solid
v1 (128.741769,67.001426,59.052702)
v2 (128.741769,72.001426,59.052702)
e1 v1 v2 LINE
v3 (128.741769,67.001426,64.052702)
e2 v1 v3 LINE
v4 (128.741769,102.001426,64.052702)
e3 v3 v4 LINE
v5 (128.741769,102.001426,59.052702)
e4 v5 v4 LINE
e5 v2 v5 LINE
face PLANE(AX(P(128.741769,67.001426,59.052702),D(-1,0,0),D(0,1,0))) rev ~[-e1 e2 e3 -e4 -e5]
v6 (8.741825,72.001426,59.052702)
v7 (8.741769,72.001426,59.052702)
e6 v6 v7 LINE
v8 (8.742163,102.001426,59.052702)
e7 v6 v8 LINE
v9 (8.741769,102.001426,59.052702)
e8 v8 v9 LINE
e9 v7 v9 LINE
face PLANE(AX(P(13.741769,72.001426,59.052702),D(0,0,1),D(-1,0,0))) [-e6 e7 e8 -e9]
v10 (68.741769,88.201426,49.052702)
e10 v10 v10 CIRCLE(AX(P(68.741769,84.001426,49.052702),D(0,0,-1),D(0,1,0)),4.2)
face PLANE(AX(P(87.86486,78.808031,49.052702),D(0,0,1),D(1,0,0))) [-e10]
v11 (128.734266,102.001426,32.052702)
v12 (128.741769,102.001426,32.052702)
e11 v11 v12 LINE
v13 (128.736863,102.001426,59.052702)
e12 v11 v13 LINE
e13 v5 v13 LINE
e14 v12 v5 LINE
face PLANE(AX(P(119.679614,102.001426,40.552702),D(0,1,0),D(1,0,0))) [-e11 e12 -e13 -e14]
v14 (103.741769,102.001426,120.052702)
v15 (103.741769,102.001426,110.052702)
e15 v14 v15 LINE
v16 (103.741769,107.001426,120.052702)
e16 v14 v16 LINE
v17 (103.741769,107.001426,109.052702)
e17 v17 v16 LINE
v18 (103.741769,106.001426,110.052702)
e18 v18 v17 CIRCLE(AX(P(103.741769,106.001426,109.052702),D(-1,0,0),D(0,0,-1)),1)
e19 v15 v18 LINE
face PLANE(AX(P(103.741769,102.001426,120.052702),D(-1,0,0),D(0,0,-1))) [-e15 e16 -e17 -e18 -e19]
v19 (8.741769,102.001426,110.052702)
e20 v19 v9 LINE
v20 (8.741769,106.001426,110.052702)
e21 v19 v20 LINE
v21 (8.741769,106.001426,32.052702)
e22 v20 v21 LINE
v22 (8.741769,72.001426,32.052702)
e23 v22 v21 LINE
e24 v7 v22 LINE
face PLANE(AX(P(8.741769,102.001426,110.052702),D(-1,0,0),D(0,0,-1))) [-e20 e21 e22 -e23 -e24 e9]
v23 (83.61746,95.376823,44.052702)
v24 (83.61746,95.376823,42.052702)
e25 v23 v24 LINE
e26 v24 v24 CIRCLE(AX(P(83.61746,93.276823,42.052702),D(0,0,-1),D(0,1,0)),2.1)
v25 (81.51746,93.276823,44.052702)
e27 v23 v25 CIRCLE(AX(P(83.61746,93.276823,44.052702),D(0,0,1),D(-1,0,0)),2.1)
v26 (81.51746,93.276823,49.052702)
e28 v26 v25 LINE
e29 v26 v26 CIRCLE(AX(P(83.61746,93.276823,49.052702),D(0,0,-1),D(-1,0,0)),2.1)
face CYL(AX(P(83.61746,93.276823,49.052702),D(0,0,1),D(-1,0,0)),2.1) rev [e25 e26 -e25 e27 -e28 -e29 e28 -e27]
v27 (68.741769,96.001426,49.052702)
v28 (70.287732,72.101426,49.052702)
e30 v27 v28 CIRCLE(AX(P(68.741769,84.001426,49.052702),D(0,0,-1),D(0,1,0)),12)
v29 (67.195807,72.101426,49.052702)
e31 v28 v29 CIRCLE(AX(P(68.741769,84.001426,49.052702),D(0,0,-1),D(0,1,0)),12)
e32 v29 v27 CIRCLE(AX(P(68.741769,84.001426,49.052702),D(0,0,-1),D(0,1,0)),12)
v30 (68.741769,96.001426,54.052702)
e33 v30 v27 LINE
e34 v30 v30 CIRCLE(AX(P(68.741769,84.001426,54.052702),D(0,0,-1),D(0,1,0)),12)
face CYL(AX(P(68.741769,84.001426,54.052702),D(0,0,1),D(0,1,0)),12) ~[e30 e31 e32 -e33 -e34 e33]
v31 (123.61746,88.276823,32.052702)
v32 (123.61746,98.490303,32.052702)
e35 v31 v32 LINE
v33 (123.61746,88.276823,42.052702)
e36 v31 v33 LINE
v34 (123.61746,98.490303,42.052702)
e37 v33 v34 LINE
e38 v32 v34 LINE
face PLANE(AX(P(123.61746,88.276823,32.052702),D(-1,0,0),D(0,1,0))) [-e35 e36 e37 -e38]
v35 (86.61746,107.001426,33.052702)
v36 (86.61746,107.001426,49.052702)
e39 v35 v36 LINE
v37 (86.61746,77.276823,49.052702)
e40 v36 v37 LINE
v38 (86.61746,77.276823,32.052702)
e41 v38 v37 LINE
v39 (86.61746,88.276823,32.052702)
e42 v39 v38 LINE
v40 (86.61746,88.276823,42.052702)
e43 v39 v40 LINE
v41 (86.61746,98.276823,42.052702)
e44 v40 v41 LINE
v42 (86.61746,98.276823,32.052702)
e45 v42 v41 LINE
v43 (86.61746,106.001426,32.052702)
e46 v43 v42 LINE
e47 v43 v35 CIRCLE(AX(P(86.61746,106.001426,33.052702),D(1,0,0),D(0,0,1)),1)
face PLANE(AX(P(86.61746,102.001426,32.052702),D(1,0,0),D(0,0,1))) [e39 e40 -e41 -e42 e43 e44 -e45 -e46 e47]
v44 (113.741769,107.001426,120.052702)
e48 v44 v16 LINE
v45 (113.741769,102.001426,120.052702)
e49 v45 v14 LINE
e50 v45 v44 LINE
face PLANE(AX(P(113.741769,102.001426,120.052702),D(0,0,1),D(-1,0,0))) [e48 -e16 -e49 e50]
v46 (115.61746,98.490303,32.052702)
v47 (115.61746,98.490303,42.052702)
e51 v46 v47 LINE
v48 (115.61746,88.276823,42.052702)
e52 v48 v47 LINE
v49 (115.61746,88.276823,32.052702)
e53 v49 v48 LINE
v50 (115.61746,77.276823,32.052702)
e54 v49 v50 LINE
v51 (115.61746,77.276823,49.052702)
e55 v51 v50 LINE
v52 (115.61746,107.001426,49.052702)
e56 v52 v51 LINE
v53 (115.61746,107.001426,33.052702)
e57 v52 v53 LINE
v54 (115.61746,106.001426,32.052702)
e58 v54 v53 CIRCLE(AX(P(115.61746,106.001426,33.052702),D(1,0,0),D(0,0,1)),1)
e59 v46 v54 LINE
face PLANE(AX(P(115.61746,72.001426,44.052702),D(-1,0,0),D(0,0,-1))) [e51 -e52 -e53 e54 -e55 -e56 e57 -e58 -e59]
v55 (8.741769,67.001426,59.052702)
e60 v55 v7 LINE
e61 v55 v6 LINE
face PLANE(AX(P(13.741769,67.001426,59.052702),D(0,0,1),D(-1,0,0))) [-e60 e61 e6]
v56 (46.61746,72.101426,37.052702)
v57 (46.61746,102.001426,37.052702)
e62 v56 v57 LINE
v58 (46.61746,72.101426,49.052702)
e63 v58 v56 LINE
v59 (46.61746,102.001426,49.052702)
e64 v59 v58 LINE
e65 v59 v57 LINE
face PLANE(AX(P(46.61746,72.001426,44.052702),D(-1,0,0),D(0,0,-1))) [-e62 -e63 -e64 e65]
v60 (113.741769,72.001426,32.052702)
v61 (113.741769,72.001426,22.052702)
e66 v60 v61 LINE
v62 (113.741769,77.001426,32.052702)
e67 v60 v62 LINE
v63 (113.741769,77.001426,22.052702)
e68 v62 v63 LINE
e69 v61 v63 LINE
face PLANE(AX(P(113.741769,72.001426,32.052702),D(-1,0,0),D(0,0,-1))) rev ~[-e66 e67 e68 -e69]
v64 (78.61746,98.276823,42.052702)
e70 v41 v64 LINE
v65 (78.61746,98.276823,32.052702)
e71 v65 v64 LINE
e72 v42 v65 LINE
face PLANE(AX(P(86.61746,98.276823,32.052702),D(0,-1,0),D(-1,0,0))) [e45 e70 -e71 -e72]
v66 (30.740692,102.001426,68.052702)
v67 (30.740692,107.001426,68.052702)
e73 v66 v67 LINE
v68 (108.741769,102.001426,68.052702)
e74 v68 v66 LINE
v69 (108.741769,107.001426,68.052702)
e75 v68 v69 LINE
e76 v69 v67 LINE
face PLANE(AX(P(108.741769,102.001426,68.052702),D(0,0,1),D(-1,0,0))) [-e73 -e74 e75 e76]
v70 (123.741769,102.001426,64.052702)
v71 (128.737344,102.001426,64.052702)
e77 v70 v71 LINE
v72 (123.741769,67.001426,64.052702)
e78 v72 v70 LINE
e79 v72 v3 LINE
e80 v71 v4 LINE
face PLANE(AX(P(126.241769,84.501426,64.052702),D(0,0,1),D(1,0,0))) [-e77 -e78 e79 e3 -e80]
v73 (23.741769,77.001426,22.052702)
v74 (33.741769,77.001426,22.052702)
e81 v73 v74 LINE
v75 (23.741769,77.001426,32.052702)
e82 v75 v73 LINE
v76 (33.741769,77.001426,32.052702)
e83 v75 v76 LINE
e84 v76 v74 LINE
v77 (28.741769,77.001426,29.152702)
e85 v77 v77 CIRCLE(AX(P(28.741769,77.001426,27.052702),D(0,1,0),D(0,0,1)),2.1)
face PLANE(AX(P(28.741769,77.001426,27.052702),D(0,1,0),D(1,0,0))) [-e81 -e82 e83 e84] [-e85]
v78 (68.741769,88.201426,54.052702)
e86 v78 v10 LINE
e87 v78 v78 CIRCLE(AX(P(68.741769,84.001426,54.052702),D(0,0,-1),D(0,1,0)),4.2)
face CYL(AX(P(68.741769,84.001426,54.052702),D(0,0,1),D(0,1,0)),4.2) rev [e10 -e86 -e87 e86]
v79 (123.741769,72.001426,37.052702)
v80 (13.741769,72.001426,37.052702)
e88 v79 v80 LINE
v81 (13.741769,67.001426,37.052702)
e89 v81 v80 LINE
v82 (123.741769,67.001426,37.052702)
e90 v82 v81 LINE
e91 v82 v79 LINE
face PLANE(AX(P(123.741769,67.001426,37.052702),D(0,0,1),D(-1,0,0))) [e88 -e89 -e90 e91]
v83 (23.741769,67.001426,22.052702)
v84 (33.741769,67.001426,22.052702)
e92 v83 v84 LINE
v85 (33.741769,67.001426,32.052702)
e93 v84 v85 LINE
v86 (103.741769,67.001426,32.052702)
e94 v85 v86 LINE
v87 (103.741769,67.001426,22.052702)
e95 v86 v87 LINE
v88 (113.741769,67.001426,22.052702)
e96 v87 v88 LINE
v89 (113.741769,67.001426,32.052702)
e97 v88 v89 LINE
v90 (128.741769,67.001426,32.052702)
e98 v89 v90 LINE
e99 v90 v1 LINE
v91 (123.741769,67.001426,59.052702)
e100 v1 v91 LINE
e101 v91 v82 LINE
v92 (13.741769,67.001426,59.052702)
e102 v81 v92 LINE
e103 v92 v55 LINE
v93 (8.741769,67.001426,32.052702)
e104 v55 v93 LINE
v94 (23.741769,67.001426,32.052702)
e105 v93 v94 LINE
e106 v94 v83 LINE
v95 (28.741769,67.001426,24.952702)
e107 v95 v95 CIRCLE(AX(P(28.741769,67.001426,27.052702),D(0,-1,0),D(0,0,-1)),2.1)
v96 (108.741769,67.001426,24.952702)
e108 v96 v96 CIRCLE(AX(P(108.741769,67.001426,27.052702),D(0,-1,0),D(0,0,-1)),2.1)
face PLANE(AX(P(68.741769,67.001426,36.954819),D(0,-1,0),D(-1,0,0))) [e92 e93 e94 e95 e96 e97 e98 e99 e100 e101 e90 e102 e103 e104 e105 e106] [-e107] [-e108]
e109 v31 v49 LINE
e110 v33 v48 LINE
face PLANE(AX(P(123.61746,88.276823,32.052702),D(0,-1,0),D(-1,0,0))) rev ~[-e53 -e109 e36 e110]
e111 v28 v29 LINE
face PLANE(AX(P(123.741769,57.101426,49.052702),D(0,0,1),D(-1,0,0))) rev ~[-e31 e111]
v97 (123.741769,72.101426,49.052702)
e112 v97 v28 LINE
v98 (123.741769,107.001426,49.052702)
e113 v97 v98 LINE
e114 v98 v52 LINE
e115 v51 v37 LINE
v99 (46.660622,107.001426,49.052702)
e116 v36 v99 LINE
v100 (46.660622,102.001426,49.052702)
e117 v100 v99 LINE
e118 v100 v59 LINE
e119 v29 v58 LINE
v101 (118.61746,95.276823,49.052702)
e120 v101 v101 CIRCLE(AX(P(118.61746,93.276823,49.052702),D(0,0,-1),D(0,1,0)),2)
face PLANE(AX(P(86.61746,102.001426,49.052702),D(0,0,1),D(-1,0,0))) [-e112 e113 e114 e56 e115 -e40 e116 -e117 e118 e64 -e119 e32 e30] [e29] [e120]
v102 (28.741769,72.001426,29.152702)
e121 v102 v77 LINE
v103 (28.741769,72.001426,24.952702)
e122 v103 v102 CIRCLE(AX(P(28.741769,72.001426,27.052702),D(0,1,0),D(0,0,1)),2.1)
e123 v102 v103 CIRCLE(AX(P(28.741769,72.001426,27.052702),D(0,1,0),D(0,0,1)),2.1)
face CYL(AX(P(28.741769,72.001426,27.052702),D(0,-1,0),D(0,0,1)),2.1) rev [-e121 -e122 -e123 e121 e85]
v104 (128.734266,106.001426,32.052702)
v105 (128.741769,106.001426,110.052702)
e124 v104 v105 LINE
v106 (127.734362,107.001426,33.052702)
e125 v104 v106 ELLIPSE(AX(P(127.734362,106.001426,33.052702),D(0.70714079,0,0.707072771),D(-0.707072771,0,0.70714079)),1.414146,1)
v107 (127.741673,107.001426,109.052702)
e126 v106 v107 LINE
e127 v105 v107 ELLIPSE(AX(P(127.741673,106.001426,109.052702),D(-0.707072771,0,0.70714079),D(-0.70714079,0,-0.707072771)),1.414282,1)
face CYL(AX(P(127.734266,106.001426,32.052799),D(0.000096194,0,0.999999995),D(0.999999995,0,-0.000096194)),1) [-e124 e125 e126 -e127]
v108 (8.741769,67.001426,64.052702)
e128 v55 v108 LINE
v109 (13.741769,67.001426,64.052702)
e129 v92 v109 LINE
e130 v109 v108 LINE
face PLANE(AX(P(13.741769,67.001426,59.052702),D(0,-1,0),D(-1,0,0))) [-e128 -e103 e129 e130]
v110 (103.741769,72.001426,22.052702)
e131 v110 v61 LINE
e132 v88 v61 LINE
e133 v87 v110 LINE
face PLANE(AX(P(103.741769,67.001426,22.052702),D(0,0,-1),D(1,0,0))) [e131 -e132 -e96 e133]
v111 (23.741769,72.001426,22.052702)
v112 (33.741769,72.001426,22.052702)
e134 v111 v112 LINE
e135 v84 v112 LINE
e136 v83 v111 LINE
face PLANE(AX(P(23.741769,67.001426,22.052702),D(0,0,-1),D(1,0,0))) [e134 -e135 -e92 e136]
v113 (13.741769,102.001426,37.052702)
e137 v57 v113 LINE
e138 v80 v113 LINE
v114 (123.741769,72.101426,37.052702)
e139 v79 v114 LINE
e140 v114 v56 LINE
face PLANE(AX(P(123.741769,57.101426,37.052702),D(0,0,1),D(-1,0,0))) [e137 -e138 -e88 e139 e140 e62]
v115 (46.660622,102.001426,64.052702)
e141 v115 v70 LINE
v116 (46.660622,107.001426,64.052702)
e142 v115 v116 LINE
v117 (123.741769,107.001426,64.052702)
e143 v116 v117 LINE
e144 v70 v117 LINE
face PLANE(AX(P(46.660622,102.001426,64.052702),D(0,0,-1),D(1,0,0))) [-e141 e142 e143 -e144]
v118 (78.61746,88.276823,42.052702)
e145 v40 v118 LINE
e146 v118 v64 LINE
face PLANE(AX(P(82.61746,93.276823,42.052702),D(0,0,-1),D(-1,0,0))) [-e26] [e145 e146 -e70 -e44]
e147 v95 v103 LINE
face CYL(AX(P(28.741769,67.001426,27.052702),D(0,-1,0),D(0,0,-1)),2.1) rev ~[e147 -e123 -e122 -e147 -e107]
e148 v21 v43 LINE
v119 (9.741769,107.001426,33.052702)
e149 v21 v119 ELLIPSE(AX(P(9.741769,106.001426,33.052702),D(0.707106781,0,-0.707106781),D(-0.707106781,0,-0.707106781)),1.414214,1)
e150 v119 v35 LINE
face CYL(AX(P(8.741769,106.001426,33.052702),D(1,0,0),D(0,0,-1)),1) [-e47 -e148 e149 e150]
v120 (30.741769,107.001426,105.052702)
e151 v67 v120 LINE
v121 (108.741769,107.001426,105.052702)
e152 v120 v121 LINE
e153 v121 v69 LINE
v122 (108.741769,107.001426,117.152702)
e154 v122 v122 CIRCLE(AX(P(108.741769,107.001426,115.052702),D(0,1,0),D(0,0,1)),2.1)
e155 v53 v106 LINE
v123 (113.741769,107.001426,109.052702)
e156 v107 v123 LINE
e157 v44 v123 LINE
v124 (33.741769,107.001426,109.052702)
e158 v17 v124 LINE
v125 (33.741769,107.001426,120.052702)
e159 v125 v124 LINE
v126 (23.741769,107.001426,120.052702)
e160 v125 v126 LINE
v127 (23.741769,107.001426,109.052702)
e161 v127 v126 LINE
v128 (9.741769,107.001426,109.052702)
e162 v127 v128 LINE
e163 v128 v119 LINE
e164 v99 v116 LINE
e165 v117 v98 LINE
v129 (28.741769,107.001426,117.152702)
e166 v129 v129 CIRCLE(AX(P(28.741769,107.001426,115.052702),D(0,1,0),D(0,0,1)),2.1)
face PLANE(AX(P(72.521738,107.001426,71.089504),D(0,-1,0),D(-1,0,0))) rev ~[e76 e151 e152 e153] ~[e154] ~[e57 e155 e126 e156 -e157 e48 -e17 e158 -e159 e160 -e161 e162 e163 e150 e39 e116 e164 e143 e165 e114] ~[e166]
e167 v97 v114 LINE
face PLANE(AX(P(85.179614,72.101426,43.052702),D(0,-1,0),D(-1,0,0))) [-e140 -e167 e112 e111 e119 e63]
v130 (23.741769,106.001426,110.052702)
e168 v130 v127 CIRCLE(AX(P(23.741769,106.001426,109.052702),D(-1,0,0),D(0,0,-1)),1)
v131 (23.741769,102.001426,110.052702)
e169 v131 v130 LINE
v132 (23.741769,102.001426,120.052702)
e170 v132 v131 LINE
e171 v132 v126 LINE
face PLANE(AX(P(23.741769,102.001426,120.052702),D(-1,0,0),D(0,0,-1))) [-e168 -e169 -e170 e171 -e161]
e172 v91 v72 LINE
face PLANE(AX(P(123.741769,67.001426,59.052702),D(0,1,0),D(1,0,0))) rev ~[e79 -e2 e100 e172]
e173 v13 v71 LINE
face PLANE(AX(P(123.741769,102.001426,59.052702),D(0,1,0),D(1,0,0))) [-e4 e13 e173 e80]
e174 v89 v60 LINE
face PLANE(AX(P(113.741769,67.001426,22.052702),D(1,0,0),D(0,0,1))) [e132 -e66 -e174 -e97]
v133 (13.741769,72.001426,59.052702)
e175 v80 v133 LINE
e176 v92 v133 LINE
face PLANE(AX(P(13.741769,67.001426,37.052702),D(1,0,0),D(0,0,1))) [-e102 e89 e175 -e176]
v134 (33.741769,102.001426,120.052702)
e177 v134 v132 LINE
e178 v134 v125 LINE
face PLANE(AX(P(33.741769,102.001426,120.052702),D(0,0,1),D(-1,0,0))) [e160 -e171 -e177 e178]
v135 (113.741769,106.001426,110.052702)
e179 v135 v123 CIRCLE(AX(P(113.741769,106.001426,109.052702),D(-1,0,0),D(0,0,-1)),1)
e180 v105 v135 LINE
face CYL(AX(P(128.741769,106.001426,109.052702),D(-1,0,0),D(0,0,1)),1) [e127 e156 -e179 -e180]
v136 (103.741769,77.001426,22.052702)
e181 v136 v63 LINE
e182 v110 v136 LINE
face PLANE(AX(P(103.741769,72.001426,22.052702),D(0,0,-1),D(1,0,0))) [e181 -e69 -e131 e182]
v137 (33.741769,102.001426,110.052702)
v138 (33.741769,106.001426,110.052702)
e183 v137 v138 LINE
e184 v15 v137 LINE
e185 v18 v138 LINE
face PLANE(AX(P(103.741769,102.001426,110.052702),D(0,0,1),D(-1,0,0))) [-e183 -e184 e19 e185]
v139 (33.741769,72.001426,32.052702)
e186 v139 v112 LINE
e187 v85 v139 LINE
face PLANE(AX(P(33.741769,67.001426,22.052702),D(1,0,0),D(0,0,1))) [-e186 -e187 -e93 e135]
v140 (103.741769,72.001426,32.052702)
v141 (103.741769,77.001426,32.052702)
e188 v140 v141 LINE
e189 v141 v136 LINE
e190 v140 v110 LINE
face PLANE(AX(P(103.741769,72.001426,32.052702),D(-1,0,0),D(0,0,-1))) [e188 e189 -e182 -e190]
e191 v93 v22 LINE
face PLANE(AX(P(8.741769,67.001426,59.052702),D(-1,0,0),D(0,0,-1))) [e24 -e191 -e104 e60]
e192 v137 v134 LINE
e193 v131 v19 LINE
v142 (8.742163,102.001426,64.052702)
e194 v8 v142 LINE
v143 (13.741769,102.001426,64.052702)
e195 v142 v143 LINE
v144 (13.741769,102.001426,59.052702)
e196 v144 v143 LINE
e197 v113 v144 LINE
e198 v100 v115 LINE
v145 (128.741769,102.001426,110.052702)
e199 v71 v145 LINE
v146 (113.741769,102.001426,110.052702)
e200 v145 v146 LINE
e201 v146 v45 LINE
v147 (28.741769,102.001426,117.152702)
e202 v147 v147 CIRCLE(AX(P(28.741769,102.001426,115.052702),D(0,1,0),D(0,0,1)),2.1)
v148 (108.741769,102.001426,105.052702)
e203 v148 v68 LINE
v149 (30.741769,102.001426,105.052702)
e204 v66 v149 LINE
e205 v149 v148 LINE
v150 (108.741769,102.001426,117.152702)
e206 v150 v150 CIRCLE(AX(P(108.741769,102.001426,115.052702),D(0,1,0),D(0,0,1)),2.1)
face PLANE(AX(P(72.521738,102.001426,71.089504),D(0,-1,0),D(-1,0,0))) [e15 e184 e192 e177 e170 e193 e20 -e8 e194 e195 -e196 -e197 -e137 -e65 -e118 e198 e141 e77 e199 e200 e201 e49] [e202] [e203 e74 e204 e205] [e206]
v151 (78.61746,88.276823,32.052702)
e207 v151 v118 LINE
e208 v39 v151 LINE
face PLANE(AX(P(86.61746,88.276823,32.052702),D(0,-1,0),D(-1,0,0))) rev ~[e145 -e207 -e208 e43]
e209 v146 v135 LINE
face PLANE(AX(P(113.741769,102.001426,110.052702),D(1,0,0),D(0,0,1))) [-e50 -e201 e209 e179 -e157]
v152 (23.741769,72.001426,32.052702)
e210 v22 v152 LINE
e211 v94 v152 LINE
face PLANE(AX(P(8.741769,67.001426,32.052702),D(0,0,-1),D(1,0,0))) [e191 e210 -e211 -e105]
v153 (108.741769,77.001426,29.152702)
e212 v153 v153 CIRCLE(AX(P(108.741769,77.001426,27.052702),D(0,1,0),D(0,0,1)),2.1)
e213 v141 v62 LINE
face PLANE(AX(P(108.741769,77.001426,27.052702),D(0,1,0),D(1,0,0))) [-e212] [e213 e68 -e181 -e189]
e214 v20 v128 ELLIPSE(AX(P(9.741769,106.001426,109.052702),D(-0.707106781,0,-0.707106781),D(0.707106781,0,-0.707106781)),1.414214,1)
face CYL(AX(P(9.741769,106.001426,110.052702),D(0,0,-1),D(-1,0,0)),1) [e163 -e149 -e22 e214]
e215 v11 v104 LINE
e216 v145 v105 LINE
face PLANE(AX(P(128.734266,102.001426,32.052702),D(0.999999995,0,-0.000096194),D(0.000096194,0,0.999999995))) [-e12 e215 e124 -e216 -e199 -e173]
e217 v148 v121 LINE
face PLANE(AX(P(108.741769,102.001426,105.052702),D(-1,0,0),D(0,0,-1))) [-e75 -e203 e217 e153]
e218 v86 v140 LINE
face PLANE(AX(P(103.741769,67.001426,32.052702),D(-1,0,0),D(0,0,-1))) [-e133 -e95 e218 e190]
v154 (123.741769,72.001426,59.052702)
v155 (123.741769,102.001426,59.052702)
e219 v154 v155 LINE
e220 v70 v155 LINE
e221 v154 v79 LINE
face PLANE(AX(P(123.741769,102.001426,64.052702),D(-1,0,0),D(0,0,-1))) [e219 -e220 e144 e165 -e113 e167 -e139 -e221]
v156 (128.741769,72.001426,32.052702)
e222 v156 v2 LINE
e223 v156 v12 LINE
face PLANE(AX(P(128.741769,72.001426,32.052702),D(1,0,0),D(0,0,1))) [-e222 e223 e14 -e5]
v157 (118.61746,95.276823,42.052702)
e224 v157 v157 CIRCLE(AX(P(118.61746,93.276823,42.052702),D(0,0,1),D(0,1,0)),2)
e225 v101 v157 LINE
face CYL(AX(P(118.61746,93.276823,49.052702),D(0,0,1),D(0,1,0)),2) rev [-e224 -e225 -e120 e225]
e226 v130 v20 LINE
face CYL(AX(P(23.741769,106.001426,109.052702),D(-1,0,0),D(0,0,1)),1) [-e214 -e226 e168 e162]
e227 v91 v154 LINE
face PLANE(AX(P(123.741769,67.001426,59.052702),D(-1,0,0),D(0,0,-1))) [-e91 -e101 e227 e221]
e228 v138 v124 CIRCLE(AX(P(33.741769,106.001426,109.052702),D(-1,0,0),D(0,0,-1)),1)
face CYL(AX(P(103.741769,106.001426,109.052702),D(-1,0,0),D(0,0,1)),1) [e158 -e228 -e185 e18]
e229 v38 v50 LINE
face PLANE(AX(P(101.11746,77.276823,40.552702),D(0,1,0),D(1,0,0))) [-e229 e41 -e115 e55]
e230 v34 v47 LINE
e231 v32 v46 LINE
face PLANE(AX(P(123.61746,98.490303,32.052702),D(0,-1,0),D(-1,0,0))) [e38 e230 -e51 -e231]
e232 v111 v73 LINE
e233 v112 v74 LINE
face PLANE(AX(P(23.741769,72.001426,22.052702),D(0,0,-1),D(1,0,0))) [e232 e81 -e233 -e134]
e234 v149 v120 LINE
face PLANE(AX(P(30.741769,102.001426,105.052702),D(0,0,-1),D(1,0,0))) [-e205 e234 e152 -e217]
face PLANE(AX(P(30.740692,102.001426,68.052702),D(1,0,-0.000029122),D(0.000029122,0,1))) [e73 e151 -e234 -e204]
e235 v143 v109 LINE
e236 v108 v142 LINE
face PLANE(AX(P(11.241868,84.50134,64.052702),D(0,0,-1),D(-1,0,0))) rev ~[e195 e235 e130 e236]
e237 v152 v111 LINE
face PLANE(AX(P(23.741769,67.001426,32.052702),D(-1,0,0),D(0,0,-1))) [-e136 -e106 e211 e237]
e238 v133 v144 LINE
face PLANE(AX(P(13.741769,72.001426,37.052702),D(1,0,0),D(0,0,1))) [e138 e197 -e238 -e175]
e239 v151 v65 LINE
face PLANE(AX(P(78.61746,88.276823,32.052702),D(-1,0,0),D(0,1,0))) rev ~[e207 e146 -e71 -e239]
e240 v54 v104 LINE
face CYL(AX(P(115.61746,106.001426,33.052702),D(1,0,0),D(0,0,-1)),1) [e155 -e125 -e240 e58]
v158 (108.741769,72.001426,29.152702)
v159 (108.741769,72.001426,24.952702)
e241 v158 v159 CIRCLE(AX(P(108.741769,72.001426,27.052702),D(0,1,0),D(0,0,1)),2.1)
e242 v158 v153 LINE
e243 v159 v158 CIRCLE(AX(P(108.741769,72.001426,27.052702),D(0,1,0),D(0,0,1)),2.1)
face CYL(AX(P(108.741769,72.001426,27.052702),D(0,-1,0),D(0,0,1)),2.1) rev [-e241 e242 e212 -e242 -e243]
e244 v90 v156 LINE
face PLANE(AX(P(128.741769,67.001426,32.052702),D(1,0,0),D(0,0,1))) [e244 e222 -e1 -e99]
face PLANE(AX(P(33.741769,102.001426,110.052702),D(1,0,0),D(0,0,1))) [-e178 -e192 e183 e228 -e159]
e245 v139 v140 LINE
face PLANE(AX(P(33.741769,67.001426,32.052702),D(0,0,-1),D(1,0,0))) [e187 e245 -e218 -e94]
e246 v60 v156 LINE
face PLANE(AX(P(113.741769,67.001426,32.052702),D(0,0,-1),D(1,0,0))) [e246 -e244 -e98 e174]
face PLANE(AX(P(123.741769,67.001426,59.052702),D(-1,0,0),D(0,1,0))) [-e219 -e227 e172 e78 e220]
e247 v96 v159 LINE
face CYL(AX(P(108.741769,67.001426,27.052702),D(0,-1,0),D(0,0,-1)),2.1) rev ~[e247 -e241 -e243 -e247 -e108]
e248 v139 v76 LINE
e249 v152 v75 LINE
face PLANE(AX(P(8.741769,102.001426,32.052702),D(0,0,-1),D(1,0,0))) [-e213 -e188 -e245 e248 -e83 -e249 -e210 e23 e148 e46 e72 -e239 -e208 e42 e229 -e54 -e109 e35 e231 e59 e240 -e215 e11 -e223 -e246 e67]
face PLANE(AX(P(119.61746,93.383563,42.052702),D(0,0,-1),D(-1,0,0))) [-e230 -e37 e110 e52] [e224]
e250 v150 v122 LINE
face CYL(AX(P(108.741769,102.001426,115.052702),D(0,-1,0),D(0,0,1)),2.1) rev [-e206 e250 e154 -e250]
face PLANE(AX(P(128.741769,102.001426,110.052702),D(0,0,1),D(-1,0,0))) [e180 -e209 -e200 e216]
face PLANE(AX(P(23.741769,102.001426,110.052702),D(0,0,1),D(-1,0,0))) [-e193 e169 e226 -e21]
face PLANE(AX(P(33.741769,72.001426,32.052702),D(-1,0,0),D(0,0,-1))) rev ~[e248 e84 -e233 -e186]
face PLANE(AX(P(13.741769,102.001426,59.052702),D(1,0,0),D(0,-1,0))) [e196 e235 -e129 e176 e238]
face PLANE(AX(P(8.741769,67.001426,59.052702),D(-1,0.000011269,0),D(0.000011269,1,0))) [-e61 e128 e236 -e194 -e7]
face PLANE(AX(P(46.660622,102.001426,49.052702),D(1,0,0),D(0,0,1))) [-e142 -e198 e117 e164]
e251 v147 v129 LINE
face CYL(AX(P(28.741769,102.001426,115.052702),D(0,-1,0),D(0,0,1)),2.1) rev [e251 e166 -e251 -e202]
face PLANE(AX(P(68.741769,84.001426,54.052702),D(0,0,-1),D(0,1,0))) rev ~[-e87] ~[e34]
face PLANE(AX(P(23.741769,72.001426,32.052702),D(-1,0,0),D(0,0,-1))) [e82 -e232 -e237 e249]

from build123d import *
from build123d.topology import SkipClean

# Parameters (mm, degrees)
SKETCH_1_R           = 12
SKETCH_1_R_2         = 4.2
EXTRUDE_1_DEPTH      = 5
SKETCH_2_R           = 2
EXTRUDE_2_DEPTH      = 5
SKETCH_3_W           = 77.124309302
SKETCH_3_H           = 14.9
EXTRUDE_3_DEPTH      = 7
EXTRUDE_6_DEPTH      = 30
SKETCH_5_W           = 29
SKETCH_5_H           = 24.72460325
CUT_EXTRUDE_16_DEPTH = 30
SKETCH_9_R           = 2.1
SKETCH_9_R_2         = 2
CUT_EXTRUDE_17_DEPTH = 17
SKETCH_6_W           = 10
SKETCH_6_H           = 10
SKETCH_6_R           = 2.1
EXTRUDE_12_DEPTH     = 5
SKETCH_7_W           = 8.124309302
SKETCH_7_H           = 7
EXTRUDE_26_DEPTH     = 30
SKETCH_7_W_2         = 40
EXTRUDE_26_2_DEPTH   = 30
SKETCH_8_W           = 29
SKETCH_8_H           = 7
EXTRUDE_29_DEPTH     = 5.27539675
SKETCH_16_R          = 2
SKETCH_16_R_2        = 2.1
CUT_EXTRUDE_19_DEPTH = 17
SKETCH_18_W          = 8
SKETCH_18_H          = 10
SKETCH_18_H_2        = 10.213480618
CUT_EXTRUDE_20_DEPTH = 10
SKETCH_19_R          = 2.1
EXTRUDE_34_DEPTH     = 5
FILLET_1_R           = 1
SKETCH_20_W          = 77.124309302
SKETCH_20_H          = 12
CUT_EXTRUDE_22_DEPTH = 15
EXTRUDE_START        = 5
SKETCH_21_R          = 2.1
EXTRUDE_38_DEPTH     = 5
SKETCH_22_W          = 5
SKETCH_22_H          = 35
EXTRUDE_39_DEPTH     = 5


with BuildPart() as part:
    # Эскиз1 → Бобышка-Вытянуть1 (new body)
    with BuildSketch(Plane(origin=(0, 0, 54.052702475), x_dir=(-1, 0, 0), z_dir=(0, 0, -1))):
        with Locations(Location((-68.741769048, 84.001425994, 0), (0, 0, 90))):
            Circle(SKETCH_1_R)
        with Locations(Location((-68.741769048, 84.001425994, 0), (0, 0, 90))):
            Circle(SKETCH_1_R_2, mode=Mode.SUBTRACT)
    extrude(amount=EXTRUDE_1_DEPTH)

    # Эскиз2 → Бобышка-Вытянуть2 (add)
    with BuildSketch(Plane(origin=(0, 0, 49.052702475), x_dir=(-1, 0, 0), z_dir=(0, 0, -1))):
        Polygon((-115.617459746, 77.276822744), (-86.617459746, 77.276822744), (-86.617459746, 93.276822744), (-86.617459746, 102.001425994), (-46.617459746, 102.001425994), (-46.617459746, 57.101425994), (-123.741769048, 57.101425994), (-123.741769048, 102.001425994), (-115.617459746, 102.001425994), (-115.617459746, 93.276822744), align=None)
        with Locations(Location((-118.617459746, 93.276822744, 0), (0, 0, 90))):
            Circle(SKETCH_2_R, mode=Mode.SUBTRACT)
        with Locations(Location((-83.617459746, 93.276822744, 0), (0, 0, 90))):
            Circle(SKETCH_2_R, mode=Mode.SUBTRACT)
    extrude(amount=EXTRUDE_2_DEPTH)

    # Эскиз3 → Бобышка-Вытянуть3 (add)
    with BuildSketch(Plane(origin=(0, 0, 44.052702475), x_dir=(-1, 0, 0), z_dir=(0, 0, -1))):
        with Locations((-85.179614397, 64.551425994)):
            Rectangle(SKETCH_3_W, SKETCH_3_H)
    extrude(amount=EXTRUDE_3_DEPTH)


with BuildPart() as body_2:
    # Эскиз4 → Бобышка-Вытянуть6 (new body)
    with BuildSketch(Plane(origin=(0, 72.001425994, 0), x_dir=(1, 0, 0), z_dir=(0, 1, 0))):
        Polygon((123.741769048, -37.052702475), (13.741769048, -37.052702475), (13.741769048, -59.052702475), (8.741769048, -59.052702475), (8.741769048, -32.052702475), (128.741769048, -32.052702475), (128.741769048, -59.052702475), (123.741769048, -59.052702475), align=None)
    extrude(amount=EXTRUDE_6_DEPTH)

    # Эскиз5 → Вырез-Вытянуть16 (cut)
    with BuildSketch(Plane(origin=(0, 0, 44.052702475), x_dir=(-1, 0, 0), z_dir=(0, 0, -1))):
        with Locations((-101.117459746, 89.639124369)):
            Rectangle(SKETCH_5_W, SKETCH_5_H)
    extrude(amount=CUT_EXTRUDE_16_DEPTH, mode=Mode.SUBTRACT)


with BuildPart() as cut_extrude_17_tool:
    # Эскиз9 → Вырез-Вытянуть17 (new body)
    with BuildSketch(Plane(origin=(0, 0, 49.052702475), x_dir=(-1, 0, 0), z_dir=(0, 0, -1))):
        with Locations((-83.617459746, 93.276822744)):
            Circle(SKETCH_9_R)
        with Locations(Location((-118.617459746, 93.276822744, 0), (0, 0, 90))):
            Circle(SKETCH_9_R_2)
    extrude(amount=CUT_EXTRUDE_17_DEPTH)


with BuildPart() as part_1:
    add(part.part)

    # Вырез-Вытянуть17: cut by cut_extrude_17_tool
    add(cut_extrude_17_tool.part, mode=Mode.SUBTRACT)



with BuildPart() as body_2_1:
    add(body_2.part)

    # Вырез-Вытянуть17: cut by cut_extrude_17_tool
    add(cut_extrude_17_tool.part, mode=Mode.SUBTRACT)

    # Эскиз6 → Бобышка-Вытянуть12 (add)
    # profile 1 of 2: a face of its own
    with BuildSketch(Plane(origin=(0, 72.001425994, 0), x_dir=(1, 0, 0), z_dir=(0, 1, 0))):
        with Locations((28.741769048, -27.052702475)):
            Rectangle(SKETCH_6_W, SKETCH_6_H)
        with Locations(Location((28.741769048, -27.052702475, 0), (0, 0, 270))):
            Circle(SKETCH_6_R, mode=Mode.SUBTRACT)
    # profile 2 of 2: a face of its own
    with BuildSketch(Plane(origin=(0, 72.001425994, 0), x_dir=(1, 0, 0), z_dir=(0, 1, 0))):
        with Locations((108.741769048, -27.052702475)):
            Rectangle(SKETCH_6_W, SKETCH_6_H)
        with Locations(Location((108.741769048, -27.052702475, 0), (0, 0, 270))):
            Circle(SKETCH_6_R, mode=Mode.SUBTRACT)
    extrude(amount=EXTRUDE_12_DEPTH)


with BuildPart() as body_3:
    # Эскиз7 → Бобышка-Вытянуть26 (new body)
    with BuildSketch(Plane(origin=(0, 72.001425994, 0), x_dir=(1, 0, 0), z_dir=(0, 1, 0))):
        with Locations((119.679614397, -40.552702475)):
            Rectangle(SKETCH_7_W, SKETCH_7_H)
    extrude(amount=EXTRUDE_26_DEPTH)


with BuildPart() as body_4:
    # Эскиз7 → Extrude 26 2 (new body)
    with BuildSketch(Plane(origin=(0, 72.001425994, 0), x_dir=(1, 0, 0), z_dir=(0, 1, 0))):
        with Locations((66.617459746, -40.552702475)):
            Rectangle(SKETCH_7_W_2, SKETCH_7_H)
    extrude(amount=EXTRUDE_26_2_DEPTH)


with BuildPart() as part_2:
    add(part_1.part)

    add(body_2_1.part)  # Бобышка-Вытянуть29 merges body 2

    add(body_3.part)  # Бобышка-Вытянуть29 merges body 3

    add(body_4.part)  # Бобышка-Вытянуть29 merges body 4
    # Эскиз8 → Бобышка-Вытянуть29 (add)
    with BuildSketch(Plane(origin=(0, 72.001425994, 0), x_dir=(1, 0, 0), z_dir=(0, 1, 0))):
        with Locations((101.117459746, -40.552702475)):
            Rectangle(SKETCH_8_W, SKETCH_8_H)
    extrude(amount=EXTRUDE_29_DEPTH)

    # Эскиз16 → Вырез-Вытянуть19 (cut)
    with BuildSketch(Plane(origin=(0, 0, 49.052702475), x_dir=(-1, 0, 0), z_dir=(0, 0, -1))):
        with Locations(Location((-118.617459746, 93.276822744, 0), (0, 0, 90))):
            Circle(SKETCH_16_R)
        with Locations(Location((-83.617459746, 93.276822744, 0), (0, 0, 90))):
            Circle(SKETCH_16_R_2)
    extrude(amount=CUT_EXTRUDE_19_DEPTH, mode=Mode.SUBTRACT)

    # Эскиз18 → Вырез-Вытянуть20 (cut)
    with BuildSketch(Plane(origin=(0, 0, 32.052702475), x_dir=(-1, 0, 0), z_dir=(0, 0, -1))):
        with Locations((-82.617459746, 93.276822744)):
            Rectangle(SKETCH_18_W, SKETCH_18_H)
        with Locations((-119.617459746, 93.383563053)):
            Rectangle(SKETCH_18_W, SKETCH_18_H_2)
    extrude(amount=-CUT_EXTRUDE_20_DEPTH, mode=Mode.SUBTRACT)

    # Эскиз19 → Бобышка-Вытянуть34 (add)
    with BuildSketch(Plane(origin=(0, 102.001425994, 0), x_dir=(1, 0, 0), z_dir=(0, 1, 0))):
        Polygon((8.741769048, -32.052702475), (86.617459746, -32.052702475), (86.617459746, -49.052702475), (46.660621761, -49.052702475), (46.660621761, -64.052702475), (123.741769048, -64.052702475), (123.741769048, -49.052702475), (115.617459746, -49.052702475), (115.617459746, -32.052702475), (128.73426593, -32.052702475), (128.741769048, -110.052702475), (113.741769048, -110.052702475), (113.741769048, -120.052702475), (103.741769048, -120.052702475), (103.741769048, -110.052702475), (33.741769048, -110.052702475), (33.741769048, -120.052702475), (23.741769048, -120.052702475), (23.741769048, -110.052702475), (8.741769048, -110.052702475), align=None)
        with Locations(Location((28.741769048, -115.052702475, 0), (0, 0, 270))):
            Circle(SKETCH_19_R, mode=Mode.SUBTRACT)
        with Locations(Location((108.741769048, -115.052702475, 0), (0, 0, 270))):
            Circle(SKETCH_19_R, mode=Mode.SUBTRACT)
        Polygon((30.740691522, -68.052702475), (30.741769048, -105.052702475), (108.741769048, -105.052702475), (108.741769048, -68.052702475), align=None, mode=Mode.SUBTRACT)
    extrude(amount=EXTRUDE_34_DEPTH)

    # Скругление1
    fillet_1_edges = [part_2.edges().sort_by_distance(p)[0] for p in [
        (8.741769048, 107.001425994, 71.052702475),
        (16.241769048, 107.001425994, 110.052702475),
        (68.741769048, 107.001425994, 110.052702475),
        (121.241769048, 107.001425994, 110.052702475),
        (128.738017489, 107.001425994, 71.052702475),
        (122.175862838, 107.001425994, 32.052702475),
        (47.679614397, 107.001425994, 32.052702475),
    ]]
    fillet(fillet_1_edges, radius=FILLET_1_R)

    # Эскиз20 → Вырез-Вытянуть22 (cut)
    with BuildSketch(Plane(origin=(0, 57.101425994, 0), x_dir=(-1, 0, 0), z_dir=(0, -1, 0))):
        with Locations((-85.179614397, -43.052702475)):
            Rectangle(SKETCH_20_W, SKETCH_20_H)
    extrude(amount=-CUT_EXTRUDE_22_DEPTH, mode=Mode.SUBTRACT)

    # Эскиз21 → Бобышка-Вытянуть38 (add)
    with SkipClean():  # the faces are left unmerged after this step: merging them gives an invalid solid
        with BuildSketch(Plane(origin=(0, 72.001425994, 0), x_dir=(-1, 0, 0), z_dir=(0, -1, 0)).offset(EXTRUDE_START)):
            Polygon((-128.741769048, -59.052702475), (-123.741769048, -59.052702475), (-123.741769048, -37.052702475), (-13.741769048, -37.052702475), (-13.741769048, -59.052702475), (-8.741769048, -59.052702475), (-8.741769048, -32.052702475), (-23.741769048, -32.052702475), (-23.741769048, -22.052702475), (-33.741769048, -22.052702475), (-33.741769048, -32.052702475), (-103.741769048, -32.052702475), (-103.741769048, -22.052702475), (-113.741769048, -22.052702475), (-113.741769048, -32.052702475), (-128.741769048, -32.052702475), align=None)
            with Locations(Location((-108.741769048, -27.052702475, 0), (0, 0, 90))):
                Circle(SKETCH_21_R, mode=Mode.SUBTRACT)
            with Locations(Location((-28.741769048, -27.052702475, 0), (0, 0, 90))):
                Circle(SKETCH_21_R, mode=Mode.SUBTRACT)
        extrude(amount=-EXTRUDE_38_DEPTH)

    # Эскиз22 → Бобышка-Вытянуть39 (add)
    with SkipClean():  # the faces are left unmerged after this step: merging them gives an invalid solid
        with BuildSketch(Plane.XY.offset(59.052702475)):
            Polygon((8.742163446, 102.001425994), (13.741769048, 102.001425994), (13.741769048, 67.001425994), (8.741769048, 67.001425994), align=None)
            with Locations((126.241769048, 84.501425994)):
                Rectangle(SKETCH_22_W, SKETCH_22_H)
        extrude(amount=EXTRUDE_39_DEPTH)


solid = part_2.part
